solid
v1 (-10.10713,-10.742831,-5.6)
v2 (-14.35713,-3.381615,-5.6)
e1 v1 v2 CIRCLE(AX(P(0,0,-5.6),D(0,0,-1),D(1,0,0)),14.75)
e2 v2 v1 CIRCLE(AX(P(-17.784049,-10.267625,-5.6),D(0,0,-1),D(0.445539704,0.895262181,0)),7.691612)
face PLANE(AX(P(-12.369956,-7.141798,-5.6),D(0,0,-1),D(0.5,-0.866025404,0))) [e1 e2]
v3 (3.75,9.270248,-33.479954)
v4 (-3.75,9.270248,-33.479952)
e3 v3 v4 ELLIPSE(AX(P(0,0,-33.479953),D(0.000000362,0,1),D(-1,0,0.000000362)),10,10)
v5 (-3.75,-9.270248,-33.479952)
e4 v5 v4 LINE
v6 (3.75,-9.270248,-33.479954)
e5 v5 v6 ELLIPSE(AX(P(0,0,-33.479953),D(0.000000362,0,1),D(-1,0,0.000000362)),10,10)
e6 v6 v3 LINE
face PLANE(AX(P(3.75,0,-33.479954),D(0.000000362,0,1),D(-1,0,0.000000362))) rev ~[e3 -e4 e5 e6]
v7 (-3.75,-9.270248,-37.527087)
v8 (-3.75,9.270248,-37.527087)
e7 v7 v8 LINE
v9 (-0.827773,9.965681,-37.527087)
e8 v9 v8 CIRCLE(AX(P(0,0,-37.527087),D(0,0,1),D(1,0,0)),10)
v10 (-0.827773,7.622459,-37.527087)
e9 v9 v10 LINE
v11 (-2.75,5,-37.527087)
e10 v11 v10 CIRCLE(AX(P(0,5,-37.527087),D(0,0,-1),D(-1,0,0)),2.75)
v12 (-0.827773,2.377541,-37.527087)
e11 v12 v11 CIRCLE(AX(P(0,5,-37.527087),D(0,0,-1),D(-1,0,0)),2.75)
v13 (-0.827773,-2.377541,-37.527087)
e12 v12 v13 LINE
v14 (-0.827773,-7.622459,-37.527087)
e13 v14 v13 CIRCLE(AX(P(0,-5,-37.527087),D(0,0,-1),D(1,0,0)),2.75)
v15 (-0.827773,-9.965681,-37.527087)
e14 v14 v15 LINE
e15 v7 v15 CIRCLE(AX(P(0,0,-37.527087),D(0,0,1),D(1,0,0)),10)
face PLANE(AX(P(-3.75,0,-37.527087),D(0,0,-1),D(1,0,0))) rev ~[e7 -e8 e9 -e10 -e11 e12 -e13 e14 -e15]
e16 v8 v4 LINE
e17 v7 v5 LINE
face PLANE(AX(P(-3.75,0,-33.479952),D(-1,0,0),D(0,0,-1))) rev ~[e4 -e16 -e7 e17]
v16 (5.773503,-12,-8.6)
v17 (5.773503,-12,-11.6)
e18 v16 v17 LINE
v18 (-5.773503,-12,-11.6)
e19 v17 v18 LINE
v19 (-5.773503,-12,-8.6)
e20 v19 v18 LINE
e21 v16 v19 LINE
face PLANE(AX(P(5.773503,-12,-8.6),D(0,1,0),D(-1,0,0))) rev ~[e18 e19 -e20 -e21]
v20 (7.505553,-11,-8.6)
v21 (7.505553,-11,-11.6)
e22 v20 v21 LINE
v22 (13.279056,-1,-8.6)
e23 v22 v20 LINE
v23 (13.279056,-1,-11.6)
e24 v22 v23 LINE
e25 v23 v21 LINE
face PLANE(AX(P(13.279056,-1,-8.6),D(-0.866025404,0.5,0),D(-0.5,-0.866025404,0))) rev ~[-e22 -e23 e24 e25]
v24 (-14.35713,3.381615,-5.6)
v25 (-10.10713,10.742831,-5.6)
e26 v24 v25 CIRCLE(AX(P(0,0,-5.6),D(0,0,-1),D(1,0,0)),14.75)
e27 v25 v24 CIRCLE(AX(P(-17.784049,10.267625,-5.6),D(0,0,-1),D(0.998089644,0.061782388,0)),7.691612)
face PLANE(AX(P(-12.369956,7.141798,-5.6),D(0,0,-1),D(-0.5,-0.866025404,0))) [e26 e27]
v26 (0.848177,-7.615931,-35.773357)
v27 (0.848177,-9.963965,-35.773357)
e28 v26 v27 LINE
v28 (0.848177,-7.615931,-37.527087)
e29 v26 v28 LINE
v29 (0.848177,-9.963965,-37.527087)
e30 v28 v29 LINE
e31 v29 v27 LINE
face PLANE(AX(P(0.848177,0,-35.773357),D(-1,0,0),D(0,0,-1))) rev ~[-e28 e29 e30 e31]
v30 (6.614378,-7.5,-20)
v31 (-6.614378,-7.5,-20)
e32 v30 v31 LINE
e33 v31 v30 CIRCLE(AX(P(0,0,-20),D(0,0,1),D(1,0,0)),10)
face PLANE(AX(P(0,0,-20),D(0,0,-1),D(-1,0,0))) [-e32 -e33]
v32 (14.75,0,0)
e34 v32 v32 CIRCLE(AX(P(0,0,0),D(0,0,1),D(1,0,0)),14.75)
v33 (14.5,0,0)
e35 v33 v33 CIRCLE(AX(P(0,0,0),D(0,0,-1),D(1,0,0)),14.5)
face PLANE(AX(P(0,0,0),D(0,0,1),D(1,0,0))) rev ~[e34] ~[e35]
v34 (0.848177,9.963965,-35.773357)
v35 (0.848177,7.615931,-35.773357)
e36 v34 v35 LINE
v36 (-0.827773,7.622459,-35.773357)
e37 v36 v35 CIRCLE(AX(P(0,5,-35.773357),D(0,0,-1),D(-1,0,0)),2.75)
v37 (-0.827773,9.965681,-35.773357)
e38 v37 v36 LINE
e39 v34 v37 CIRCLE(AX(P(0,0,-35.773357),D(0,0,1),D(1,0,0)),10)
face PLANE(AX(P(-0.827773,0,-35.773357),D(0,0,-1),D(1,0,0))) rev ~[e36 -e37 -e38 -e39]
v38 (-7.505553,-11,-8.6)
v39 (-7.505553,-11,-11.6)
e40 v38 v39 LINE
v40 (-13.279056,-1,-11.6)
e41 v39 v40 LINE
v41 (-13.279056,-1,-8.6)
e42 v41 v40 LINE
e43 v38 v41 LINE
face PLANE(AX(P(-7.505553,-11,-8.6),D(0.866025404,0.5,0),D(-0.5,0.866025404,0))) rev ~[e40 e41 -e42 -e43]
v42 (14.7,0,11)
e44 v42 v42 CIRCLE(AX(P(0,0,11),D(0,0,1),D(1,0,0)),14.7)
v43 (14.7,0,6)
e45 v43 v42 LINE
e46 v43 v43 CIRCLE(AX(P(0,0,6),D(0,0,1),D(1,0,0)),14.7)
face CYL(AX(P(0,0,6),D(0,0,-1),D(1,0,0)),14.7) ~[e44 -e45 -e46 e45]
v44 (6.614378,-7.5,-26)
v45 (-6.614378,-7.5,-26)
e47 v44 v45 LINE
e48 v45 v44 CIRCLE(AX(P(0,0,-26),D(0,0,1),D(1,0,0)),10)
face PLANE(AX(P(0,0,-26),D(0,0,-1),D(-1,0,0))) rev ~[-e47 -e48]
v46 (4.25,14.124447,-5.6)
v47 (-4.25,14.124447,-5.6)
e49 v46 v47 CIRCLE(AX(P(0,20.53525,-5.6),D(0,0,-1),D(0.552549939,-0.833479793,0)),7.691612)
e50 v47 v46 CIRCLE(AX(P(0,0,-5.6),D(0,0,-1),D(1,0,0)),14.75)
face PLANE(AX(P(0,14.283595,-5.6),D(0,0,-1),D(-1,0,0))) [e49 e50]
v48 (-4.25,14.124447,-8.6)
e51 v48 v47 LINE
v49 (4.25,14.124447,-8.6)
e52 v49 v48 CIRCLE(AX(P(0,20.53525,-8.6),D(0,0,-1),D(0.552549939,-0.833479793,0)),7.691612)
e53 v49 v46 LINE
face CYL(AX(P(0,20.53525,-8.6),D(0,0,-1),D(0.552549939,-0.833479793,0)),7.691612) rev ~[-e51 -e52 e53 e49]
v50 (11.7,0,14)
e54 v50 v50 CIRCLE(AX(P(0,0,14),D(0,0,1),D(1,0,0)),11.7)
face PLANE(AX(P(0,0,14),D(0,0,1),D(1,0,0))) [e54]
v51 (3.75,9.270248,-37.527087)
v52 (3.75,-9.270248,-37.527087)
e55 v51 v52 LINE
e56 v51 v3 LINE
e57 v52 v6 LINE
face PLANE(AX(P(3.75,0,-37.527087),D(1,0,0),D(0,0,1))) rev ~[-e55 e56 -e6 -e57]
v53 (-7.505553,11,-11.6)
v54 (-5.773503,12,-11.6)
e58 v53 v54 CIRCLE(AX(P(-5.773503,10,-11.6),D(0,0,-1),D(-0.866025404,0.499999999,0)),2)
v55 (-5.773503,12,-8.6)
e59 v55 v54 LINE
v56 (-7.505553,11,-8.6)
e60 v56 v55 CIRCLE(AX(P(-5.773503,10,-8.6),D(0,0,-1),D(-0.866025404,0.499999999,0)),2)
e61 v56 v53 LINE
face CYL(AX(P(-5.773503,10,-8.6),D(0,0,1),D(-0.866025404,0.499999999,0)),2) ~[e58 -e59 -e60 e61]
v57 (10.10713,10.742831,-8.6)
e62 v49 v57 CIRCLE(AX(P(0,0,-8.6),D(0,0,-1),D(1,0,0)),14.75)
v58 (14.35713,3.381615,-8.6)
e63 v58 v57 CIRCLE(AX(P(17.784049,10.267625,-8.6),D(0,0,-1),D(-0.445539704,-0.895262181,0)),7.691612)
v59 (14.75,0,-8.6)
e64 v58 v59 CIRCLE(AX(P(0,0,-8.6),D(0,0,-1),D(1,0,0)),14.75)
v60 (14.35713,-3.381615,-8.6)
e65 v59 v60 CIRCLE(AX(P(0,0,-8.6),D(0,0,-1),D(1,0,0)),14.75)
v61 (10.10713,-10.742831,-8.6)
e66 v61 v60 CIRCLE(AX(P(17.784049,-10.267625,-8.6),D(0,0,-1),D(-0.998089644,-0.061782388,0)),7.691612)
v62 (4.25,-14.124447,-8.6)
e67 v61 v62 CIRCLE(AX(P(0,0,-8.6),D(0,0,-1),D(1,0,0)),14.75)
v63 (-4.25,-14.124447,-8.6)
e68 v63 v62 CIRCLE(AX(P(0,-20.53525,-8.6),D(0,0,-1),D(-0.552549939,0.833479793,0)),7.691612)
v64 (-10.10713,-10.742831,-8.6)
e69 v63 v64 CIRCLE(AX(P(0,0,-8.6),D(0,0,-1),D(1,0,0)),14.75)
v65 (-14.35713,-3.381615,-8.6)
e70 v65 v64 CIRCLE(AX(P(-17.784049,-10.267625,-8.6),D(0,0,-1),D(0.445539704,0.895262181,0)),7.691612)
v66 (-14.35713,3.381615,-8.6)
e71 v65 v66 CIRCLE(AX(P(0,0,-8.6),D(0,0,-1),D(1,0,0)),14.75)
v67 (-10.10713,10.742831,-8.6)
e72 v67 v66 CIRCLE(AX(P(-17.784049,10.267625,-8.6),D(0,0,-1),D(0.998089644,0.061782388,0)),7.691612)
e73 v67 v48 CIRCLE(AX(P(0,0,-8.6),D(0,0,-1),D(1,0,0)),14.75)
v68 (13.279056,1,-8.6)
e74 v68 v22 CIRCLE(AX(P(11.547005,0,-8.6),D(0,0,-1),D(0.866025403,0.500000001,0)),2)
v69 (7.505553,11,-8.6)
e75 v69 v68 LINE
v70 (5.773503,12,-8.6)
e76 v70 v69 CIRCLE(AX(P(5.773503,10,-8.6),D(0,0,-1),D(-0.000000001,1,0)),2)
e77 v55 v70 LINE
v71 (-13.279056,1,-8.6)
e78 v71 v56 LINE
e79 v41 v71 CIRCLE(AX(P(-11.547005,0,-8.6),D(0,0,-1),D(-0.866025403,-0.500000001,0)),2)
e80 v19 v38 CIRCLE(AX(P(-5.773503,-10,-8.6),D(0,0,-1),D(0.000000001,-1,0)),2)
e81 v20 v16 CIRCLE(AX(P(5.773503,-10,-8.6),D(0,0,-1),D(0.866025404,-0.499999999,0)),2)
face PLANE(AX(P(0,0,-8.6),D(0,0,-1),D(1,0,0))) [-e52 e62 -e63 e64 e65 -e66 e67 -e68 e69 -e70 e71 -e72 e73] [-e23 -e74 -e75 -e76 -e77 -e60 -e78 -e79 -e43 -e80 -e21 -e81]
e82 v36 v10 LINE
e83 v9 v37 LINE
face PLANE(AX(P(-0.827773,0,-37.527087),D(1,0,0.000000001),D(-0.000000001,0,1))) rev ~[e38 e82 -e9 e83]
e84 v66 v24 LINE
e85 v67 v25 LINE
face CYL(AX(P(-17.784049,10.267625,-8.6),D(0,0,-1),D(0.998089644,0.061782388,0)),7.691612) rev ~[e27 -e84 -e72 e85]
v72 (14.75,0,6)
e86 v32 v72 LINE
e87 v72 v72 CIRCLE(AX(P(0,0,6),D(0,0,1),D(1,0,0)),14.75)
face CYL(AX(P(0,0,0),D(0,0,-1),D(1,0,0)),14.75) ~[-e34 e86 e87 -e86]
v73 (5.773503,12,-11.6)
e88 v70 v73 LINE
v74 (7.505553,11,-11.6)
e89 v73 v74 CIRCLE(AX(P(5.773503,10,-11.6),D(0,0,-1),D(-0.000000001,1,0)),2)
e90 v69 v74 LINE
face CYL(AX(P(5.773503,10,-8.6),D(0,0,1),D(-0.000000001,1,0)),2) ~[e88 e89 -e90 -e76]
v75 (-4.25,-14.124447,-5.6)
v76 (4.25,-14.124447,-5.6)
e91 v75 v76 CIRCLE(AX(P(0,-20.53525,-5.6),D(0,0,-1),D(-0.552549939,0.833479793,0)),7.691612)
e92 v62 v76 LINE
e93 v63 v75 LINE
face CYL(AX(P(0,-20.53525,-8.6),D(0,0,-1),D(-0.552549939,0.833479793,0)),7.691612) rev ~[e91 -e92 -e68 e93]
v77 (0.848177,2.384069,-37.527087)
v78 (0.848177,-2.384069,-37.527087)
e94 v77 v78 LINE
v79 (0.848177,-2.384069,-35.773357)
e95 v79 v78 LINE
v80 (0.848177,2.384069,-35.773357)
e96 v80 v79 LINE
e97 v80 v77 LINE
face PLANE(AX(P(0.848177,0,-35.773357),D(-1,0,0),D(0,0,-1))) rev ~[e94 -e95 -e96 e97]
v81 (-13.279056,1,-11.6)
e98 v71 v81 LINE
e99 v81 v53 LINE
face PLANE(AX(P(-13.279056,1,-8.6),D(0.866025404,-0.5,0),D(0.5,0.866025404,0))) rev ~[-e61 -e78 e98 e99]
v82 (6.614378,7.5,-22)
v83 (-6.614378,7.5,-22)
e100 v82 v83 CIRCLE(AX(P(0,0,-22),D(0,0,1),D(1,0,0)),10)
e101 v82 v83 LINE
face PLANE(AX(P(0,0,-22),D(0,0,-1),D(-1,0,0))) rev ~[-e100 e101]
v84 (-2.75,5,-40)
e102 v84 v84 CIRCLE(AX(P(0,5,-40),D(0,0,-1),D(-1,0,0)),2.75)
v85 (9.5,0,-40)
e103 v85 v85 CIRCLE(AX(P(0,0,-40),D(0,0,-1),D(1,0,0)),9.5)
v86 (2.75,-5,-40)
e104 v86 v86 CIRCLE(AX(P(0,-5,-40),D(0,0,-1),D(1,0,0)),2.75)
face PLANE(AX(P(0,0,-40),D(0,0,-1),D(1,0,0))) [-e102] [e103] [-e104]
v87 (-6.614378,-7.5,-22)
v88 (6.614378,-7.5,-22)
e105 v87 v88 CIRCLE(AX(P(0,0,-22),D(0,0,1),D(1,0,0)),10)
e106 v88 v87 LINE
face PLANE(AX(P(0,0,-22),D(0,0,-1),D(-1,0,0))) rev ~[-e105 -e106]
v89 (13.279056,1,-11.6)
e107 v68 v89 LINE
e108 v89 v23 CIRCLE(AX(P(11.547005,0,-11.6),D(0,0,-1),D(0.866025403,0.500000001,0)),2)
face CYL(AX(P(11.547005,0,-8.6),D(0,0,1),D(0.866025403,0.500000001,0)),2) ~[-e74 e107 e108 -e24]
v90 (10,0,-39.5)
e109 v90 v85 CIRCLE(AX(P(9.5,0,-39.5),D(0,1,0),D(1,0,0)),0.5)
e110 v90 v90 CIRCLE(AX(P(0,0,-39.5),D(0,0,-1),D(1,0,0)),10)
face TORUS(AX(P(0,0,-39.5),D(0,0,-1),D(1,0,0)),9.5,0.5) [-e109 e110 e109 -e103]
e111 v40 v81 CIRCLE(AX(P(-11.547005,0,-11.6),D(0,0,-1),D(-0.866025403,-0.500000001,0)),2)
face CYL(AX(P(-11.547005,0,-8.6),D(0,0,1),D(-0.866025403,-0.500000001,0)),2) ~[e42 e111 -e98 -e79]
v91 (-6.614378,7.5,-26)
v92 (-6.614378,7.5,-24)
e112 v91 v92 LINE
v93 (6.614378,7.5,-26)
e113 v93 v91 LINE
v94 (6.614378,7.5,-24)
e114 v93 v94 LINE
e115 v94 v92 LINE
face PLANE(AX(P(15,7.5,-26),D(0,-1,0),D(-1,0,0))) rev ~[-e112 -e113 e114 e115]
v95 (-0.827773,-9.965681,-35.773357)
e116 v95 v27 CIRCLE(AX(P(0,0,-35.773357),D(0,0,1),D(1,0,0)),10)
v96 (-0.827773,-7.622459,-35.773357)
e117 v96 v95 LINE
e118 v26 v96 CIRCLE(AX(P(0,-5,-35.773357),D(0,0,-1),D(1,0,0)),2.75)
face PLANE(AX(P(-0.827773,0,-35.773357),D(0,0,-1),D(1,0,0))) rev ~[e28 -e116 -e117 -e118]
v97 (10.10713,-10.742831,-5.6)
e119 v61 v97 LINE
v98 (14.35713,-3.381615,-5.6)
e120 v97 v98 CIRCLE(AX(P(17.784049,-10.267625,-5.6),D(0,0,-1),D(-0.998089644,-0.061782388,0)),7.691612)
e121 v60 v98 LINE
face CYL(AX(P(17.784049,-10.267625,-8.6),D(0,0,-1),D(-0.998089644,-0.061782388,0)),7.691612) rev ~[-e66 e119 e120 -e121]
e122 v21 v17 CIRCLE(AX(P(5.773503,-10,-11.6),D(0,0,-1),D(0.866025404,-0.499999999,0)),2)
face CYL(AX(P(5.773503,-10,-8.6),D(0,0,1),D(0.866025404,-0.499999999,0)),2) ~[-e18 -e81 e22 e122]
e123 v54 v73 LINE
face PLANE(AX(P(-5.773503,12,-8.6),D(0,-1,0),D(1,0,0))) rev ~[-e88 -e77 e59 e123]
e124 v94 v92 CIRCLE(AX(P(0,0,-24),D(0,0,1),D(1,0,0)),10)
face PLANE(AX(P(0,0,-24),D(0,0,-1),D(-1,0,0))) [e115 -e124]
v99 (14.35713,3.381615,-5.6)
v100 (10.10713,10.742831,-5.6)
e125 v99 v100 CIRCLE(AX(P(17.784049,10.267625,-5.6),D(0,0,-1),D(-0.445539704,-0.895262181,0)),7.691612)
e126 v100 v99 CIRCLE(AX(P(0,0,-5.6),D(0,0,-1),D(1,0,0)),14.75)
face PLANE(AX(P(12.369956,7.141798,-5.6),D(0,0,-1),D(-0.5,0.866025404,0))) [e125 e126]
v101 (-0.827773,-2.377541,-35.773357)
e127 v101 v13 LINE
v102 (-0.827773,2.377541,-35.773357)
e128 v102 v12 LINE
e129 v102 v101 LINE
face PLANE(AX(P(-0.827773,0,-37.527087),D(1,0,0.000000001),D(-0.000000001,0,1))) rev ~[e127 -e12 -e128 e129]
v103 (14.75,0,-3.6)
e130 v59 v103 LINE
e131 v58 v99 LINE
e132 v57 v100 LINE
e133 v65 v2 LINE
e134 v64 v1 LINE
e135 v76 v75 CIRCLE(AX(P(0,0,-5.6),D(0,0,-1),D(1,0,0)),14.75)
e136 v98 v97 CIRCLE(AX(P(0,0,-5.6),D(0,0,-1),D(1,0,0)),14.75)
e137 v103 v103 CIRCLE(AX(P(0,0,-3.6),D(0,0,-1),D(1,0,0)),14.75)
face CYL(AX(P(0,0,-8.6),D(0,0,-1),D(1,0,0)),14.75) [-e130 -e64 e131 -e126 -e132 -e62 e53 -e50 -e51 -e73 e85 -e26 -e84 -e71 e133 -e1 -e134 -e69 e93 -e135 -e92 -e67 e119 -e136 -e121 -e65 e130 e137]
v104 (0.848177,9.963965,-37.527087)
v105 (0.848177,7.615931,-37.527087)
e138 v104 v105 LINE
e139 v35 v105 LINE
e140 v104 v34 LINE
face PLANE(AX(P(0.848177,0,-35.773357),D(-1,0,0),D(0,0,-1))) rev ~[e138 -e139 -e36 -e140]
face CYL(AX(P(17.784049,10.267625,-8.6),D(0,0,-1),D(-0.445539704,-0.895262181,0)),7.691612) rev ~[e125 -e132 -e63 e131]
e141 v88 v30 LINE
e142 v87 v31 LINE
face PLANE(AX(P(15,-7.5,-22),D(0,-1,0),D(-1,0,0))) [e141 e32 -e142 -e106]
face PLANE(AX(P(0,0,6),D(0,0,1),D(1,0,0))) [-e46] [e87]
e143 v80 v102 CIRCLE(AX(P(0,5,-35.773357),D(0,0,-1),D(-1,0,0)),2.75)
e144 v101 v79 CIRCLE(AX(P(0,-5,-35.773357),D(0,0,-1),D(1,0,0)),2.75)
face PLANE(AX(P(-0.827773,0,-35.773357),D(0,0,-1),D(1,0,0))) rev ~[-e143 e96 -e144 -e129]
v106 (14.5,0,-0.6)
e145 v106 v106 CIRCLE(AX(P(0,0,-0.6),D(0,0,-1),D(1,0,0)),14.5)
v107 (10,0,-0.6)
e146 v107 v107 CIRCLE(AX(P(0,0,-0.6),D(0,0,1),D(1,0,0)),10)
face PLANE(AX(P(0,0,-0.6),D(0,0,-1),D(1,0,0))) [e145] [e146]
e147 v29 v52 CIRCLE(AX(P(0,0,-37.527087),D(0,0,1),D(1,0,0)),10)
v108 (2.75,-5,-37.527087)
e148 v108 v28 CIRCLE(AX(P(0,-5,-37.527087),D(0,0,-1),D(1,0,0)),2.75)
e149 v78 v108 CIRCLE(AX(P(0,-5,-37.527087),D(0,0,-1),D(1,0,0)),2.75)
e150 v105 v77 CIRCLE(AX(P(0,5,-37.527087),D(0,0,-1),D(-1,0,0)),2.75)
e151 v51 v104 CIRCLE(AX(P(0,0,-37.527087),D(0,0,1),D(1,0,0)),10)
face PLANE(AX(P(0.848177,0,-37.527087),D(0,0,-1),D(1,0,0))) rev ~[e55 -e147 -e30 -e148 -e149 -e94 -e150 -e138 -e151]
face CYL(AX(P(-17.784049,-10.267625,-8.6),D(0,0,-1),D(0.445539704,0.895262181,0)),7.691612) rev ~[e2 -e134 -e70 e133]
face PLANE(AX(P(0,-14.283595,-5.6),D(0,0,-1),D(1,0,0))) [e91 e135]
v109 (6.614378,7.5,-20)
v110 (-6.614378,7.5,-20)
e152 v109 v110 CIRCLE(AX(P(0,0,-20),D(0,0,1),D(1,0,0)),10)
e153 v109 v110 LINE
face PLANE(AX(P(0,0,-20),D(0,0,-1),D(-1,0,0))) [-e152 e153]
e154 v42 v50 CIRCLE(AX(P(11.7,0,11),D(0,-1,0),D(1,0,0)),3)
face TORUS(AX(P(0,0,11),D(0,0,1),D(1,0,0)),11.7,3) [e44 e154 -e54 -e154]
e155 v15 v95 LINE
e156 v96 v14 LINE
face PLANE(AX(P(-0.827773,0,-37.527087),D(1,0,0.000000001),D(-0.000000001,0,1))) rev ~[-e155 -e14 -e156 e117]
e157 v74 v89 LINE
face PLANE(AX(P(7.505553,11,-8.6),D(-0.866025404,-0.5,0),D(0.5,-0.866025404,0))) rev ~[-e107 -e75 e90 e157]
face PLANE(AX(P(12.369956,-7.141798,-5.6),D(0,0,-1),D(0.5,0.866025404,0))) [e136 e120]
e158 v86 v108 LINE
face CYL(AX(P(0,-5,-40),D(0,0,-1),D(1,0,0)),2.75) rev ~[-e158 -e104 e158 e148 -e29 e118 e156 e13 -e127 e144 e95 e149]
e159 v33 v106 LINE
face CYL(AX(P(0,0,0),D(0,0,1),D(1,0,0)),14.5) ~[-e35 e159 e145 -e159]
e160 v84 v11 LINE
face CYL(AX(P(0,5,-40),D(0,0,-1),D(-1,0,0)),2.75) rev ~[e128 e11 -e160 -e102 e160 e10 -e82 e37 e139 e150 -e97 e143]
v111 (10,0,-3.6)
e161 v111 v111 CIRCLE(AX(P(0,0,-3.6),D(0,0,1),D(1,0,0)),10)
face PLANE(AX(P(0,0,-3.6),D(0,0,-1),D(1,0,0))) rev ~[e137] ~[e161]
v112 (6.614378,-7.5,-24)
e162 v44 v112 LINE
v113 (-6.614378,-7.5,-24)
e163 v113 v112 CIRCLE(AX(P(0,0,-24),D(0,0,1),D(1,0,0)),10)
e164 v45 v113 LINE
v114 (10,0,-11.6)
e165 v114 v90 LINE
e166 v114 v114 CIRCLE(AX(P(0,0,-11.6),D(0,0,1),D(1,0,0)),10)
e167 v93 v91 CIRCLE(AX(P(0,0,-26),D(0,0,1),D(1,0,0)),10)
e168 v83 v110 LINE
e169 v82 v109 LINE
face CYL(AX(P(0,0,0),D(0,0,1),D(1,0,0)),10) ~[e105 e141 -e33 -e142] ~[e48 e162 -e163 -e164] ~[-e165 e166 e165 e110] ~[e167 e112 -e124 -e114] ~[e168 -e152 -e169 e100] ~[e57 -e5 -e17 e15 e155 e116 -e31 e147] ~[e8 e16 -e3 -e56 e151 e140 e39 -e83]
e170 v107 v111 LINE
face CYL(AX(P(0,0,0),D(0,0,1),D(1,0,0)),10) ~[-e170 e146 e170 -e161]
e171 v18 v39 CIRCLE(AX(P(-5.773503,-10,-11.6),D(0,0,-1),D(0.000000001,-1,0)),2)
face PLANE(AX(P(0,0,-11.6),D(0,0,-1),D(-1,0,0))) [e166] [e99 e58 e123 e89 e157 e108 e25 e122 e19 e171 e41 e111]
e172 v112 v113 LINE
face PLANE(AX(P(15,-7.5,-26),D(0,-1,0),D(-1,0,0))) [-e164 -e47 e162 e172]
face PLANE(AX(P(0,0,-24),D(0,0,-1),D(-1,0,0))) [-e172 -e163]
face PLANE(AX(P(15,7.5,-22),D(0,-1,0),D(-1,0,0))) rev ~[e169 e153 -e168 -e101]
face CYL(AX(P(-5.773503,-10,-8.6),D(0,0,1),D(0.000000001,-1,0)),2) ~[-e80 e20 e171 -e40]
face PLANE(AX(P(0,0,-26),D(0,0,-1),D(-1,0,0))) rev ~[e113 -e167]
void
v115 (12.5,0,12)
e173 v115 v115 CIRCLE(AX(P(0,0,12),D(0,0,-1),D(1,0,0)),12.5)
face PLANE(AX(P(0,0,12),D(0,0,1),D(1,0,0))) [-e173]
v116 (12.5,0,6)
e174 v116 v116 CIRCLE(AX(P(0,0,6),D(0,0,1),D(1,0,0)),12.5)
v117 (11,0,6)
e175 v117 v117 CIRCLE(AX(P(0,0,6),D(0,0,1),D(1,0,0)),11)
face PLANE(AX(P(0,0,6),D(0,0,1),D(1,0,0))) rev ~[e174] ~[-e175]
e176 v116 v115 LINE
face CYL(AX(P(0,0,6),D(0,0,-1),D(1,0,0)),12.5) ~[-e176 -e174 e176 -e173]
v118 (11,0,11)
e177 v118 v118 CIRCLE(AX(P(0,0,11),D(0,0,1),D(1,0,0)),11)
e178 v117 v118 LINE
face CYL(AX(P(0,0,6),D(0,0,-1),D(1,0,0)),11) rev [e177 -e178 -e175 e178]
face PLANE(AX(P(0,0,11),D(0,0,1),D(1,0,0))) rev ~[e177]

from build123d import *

# Parameters (mm, degrees)
ESBO_O1_R             = 14.75
EXTRUS_O1_DEPTH       = 6
ESBO_O2_R             = 10
EXTRUS_O2_DEPTH       = 40
ESBO_O3_R             = 11
EXTRUS_O3_DEPTH       = 5
ESBO_O4_R             = 14.7
ESBO_O4_R_2           = 12.5
EXTRUS_O4_DEPTH       = 8
EXTRUS_O5_START       = -2
ESBO_O5_R             = 14.7
EXTRUS_O5_DEPTH       = 2
FILETE2_R             = 3
ESBO_O6_R             = 14.5
EXTRUS_O6_DEPTH       = 0.6
EXTRUS_O7_START       = 8
ESBO_O7_R             = 14.75
EXTRUS_O7_DEPTH       = 5
CORTE_EXTRUS_O1_DEPTH = 3
CIRPATTERN1_COUNT     = 6
EXTRUS_O8_DEPTH       = 3
FILETE3_R             = 0.5
CORTE_EXTRUS_O2_START = -14
ESBO_O10_W            = 40
ESBO_O10_H            = 25
ESBO_O10_W_2          = 30
ESBO_O10_H_2          = 15
CORTE_EXTRUS_O2_DEPTH = 2
LPATTERN1_COUNT       = 2
LPATTERN1_PITCH       = 4
ESBO_O11_R            = 2.75
CORTE_EXTRUS_O3_DEPTH = 5
CORTE_EXTRUS_O4_DEPTH = 12.5


with BuildPart() as part:
    # Esboço1 → Extrusão1 (new body)
    with BuildSketch(Plane.XY):
        Circle(ESBO_O1_R)
    extrude(amount=EXTRUS_O1_DEPTH)

    # Esboço2 → Extrusão2 (add)
    with BuildSketch(Plane(origin=(0, 0, 0), x_dir=(-1, 0, 0), z_dir=(0, 0, -1))):
        with Locations(Location((0, 0, 0), (0, 0, 180))):
            Circle(ESBO_O2_R)
    extrude(amount=EXTRUS_O2_DEPTH)

    # Esboço3 → Extrusão3 (add)
    with BuildSketch(Plane.XY.offset(6)):
        Circle(ESBO_O3_R)
    extrude(amount=EXTRUS_O3_DEPTH)

    # Esboço4 → Extrusão4 (add)
    with BuildSketch(Plane.XY.offset(6)):
        Circle(ESBO_O4_R)
        Circle(ESBO_O4_R_2, mode=Mode.SUBTRACT)
    extrude(amount=EXTRUS_O4_DEPTH)

    # Esboço5 → Extrusão5 (add)
    with BuildSketch(Plane.XY.offset(14).offset(EXTRUS_O5_START)):
        Circle(ESBO_O5_R)
    extrude(amount=EXTRUS_O5_DEPTH)

    # Filete2
    filete2_edges = [part.edges().sort_by_distance(p)[0] for p in [
        (-14.7, 0, 14),
    ]]
    fillet(filete2_edges, radius=FILETE2_R)

    # Esboço6 → Extrusão6 (add)
    with BuildSketch(Plane(origin=(0, 0, 0), x_dir=(-1, 0, 0), z_dir=(0, 0, -1))):
        with Locations(Location((0, 0, 0), (0, 0, 180))):
            Circle(ESBO_O6_R)
    extrude(amount=EXTRUS_O6_DEPTH)

    # Esboço7 → Extrusão7 (add)
    with BuildSketch(Plane(origin=(0, 0, -0.6), x_dir=(-1, 0, 0), z_dir=(0, 0, -1)).offset(EXTRUS_O7_START)):
        with Locations(Location((0, 0, 0), (0, 0, 180))):
            Circle(ESBO_O7_R)
    extrude(amount=-EXTRUS_O7_DEPTH)

    # Esboço8 → Corte-extrusão1 (cut)
    with BuildSketch(Plane(origin=(0, 0, -8.6), x_dir=(-1, 0, 0), z_dir=(0, 0, -1))):
        with BuildLine():
            ThreePointArc((-4.25, 14.124446892), (0, 12.843637989), (4.25, 14.124446892))
            ThreePointArc((4.25, 14.124446892), (0, 15.884854532), (-4.25, 14.124446892))
        make_face()
    corte_extrus_o1 = extrude(amount=-CORTE_EXTRUS_O1_DEPTH, mode=Mode.SUBTRACT)

    # CirPattern1: Corte-extrusão1 ×6 about axis
    cirpattern1_axis = Axis((0, 0, 0), (0, 0, 1))
    for i in range(1, CIRPATTERN1_COUNT):
        add(corte_extrus_o1.rotate(cirpattern1_axis, i * 360 / CIRPATTERN1_COUNT), mode=Mode.SUBTRACT)

    # Esboço9 → Extrusão8 (add)
    with BuildSketch(Plane(origin=(0, 0, -8.6), x_dir=(-1, 0, 0), z_dir=(0, 0, -1))):
        with BuildLine():
            Line((-7.505553499, 11), (-13.279056191, 1))
            ThreePointArc((-13.279056191, 1), (-13.547005384, 0), (-13.279056191, -1))
            Line((-13.279056191, -1), (-7.505553499, -11))
            ThreePointArc((-7.505553499, -11), (-6.773502692, -11.732050808), (-5.773502692, -12))
            Line((-5.773502692, -12), (5.773502692, -12))
            ThreePointArc((5.773502692, -12), (6.773502692, -11.732050808), (7.505553499, -11))
            Line((7.505553499, -11), (13.279056191, -1))
            ThreePointArc((13.279056191, -1), (13.547005384, 0), (13.279056191, 1))
            Line((13.279056191, 1), (7.505553499, 11))
            ThreePointArc((7.505553499, 11), (6.773502692, 11.732050808), (5.773502692, 12))
            Line((5.773502692, 12), (-5.773502692, 12))
            ThreePointArc((-5.773502692, 12), (-6.773502692, 11.732050808), (-7.505553499, 11))
        make_face()
    extrude(amount=EXTRUS_O8_DEPTH)

    # Filete3
    filete3_edges = [part.edges().sort_by_distance(p)[0] for p in [
        (-10, 0, -40),
    ]]
    fillet(filete3_edges, radius=FILETE3_R)

    # Esboço10 → Corte-extrusão2 (cut)
    with BuildSketch(Plane(origin=(0, 0, -40), x_dir=(-1, 0, 0), z_dir=(0, 0, -1)).offset(CORTE_EXTRUS_O2_START)):
        Rectangle(ESBO_O10_W, ESBO_O10_H)
        Rectangle(ESBO_O10_W_2, ESBO_O10_H_2, mode=Mode.SUBTRACT)
    corte_extrus_o2 = extrude(amount=-CORTE_EXTRUS_O2_DEPTH, mode=Mode.SUBTRACT)

    # LPattern1: Corte-extrusão2 ×2
    with Locations(*[(0, 0, i * LPATTERN1_PITCH) for i in range(1, LPATTERN1_COUNT)]):
        add(corte_extrus_o2, mode=Mode.SUBTRACT)

    # Esboço11 → Corte-extrusão3 (cut)
    with BuildSketch(Plane(origin=(0, 0, -40), x_dir=(-1, 0, 0), z_dir=(0, 0, -1))):
        with Locations((0, 5)):
            Circle(ESBO_O11_R)
        with Locations(Location((0, -5, 0), (0, 0, 180))):
            Circle(ESBO_O11_R)
    extrude(amount=-CORTE_EXTRUS_O3_DEPTH, mode=Mode.SUBTRACT)

    # 3DSketch2 → Corte-extrusão4 (cut, symmetric)
    with BuildSketch(Plane(origin=(-3.75, 0, -37.527086784), x_dir=(0.8800460423188995, 0, 0.4748883694078451), z_dir=(0, -1, 0))):
        Polygon((0, 0), (2.571694256, -1.387731588), (3.404519941, 0.155631013), (4.879432804, -0.640257987), (4.046607118, -2.183620587), (6.600345317, -3.561662771), (8.52228138, 0), (1.921937352, 3.56166516), align=None)
    extrude(amount=CORTE_EXTRUS_O4_DEPTH, both=True, mode=Mode.SUBTRACT)


solid = part.part
